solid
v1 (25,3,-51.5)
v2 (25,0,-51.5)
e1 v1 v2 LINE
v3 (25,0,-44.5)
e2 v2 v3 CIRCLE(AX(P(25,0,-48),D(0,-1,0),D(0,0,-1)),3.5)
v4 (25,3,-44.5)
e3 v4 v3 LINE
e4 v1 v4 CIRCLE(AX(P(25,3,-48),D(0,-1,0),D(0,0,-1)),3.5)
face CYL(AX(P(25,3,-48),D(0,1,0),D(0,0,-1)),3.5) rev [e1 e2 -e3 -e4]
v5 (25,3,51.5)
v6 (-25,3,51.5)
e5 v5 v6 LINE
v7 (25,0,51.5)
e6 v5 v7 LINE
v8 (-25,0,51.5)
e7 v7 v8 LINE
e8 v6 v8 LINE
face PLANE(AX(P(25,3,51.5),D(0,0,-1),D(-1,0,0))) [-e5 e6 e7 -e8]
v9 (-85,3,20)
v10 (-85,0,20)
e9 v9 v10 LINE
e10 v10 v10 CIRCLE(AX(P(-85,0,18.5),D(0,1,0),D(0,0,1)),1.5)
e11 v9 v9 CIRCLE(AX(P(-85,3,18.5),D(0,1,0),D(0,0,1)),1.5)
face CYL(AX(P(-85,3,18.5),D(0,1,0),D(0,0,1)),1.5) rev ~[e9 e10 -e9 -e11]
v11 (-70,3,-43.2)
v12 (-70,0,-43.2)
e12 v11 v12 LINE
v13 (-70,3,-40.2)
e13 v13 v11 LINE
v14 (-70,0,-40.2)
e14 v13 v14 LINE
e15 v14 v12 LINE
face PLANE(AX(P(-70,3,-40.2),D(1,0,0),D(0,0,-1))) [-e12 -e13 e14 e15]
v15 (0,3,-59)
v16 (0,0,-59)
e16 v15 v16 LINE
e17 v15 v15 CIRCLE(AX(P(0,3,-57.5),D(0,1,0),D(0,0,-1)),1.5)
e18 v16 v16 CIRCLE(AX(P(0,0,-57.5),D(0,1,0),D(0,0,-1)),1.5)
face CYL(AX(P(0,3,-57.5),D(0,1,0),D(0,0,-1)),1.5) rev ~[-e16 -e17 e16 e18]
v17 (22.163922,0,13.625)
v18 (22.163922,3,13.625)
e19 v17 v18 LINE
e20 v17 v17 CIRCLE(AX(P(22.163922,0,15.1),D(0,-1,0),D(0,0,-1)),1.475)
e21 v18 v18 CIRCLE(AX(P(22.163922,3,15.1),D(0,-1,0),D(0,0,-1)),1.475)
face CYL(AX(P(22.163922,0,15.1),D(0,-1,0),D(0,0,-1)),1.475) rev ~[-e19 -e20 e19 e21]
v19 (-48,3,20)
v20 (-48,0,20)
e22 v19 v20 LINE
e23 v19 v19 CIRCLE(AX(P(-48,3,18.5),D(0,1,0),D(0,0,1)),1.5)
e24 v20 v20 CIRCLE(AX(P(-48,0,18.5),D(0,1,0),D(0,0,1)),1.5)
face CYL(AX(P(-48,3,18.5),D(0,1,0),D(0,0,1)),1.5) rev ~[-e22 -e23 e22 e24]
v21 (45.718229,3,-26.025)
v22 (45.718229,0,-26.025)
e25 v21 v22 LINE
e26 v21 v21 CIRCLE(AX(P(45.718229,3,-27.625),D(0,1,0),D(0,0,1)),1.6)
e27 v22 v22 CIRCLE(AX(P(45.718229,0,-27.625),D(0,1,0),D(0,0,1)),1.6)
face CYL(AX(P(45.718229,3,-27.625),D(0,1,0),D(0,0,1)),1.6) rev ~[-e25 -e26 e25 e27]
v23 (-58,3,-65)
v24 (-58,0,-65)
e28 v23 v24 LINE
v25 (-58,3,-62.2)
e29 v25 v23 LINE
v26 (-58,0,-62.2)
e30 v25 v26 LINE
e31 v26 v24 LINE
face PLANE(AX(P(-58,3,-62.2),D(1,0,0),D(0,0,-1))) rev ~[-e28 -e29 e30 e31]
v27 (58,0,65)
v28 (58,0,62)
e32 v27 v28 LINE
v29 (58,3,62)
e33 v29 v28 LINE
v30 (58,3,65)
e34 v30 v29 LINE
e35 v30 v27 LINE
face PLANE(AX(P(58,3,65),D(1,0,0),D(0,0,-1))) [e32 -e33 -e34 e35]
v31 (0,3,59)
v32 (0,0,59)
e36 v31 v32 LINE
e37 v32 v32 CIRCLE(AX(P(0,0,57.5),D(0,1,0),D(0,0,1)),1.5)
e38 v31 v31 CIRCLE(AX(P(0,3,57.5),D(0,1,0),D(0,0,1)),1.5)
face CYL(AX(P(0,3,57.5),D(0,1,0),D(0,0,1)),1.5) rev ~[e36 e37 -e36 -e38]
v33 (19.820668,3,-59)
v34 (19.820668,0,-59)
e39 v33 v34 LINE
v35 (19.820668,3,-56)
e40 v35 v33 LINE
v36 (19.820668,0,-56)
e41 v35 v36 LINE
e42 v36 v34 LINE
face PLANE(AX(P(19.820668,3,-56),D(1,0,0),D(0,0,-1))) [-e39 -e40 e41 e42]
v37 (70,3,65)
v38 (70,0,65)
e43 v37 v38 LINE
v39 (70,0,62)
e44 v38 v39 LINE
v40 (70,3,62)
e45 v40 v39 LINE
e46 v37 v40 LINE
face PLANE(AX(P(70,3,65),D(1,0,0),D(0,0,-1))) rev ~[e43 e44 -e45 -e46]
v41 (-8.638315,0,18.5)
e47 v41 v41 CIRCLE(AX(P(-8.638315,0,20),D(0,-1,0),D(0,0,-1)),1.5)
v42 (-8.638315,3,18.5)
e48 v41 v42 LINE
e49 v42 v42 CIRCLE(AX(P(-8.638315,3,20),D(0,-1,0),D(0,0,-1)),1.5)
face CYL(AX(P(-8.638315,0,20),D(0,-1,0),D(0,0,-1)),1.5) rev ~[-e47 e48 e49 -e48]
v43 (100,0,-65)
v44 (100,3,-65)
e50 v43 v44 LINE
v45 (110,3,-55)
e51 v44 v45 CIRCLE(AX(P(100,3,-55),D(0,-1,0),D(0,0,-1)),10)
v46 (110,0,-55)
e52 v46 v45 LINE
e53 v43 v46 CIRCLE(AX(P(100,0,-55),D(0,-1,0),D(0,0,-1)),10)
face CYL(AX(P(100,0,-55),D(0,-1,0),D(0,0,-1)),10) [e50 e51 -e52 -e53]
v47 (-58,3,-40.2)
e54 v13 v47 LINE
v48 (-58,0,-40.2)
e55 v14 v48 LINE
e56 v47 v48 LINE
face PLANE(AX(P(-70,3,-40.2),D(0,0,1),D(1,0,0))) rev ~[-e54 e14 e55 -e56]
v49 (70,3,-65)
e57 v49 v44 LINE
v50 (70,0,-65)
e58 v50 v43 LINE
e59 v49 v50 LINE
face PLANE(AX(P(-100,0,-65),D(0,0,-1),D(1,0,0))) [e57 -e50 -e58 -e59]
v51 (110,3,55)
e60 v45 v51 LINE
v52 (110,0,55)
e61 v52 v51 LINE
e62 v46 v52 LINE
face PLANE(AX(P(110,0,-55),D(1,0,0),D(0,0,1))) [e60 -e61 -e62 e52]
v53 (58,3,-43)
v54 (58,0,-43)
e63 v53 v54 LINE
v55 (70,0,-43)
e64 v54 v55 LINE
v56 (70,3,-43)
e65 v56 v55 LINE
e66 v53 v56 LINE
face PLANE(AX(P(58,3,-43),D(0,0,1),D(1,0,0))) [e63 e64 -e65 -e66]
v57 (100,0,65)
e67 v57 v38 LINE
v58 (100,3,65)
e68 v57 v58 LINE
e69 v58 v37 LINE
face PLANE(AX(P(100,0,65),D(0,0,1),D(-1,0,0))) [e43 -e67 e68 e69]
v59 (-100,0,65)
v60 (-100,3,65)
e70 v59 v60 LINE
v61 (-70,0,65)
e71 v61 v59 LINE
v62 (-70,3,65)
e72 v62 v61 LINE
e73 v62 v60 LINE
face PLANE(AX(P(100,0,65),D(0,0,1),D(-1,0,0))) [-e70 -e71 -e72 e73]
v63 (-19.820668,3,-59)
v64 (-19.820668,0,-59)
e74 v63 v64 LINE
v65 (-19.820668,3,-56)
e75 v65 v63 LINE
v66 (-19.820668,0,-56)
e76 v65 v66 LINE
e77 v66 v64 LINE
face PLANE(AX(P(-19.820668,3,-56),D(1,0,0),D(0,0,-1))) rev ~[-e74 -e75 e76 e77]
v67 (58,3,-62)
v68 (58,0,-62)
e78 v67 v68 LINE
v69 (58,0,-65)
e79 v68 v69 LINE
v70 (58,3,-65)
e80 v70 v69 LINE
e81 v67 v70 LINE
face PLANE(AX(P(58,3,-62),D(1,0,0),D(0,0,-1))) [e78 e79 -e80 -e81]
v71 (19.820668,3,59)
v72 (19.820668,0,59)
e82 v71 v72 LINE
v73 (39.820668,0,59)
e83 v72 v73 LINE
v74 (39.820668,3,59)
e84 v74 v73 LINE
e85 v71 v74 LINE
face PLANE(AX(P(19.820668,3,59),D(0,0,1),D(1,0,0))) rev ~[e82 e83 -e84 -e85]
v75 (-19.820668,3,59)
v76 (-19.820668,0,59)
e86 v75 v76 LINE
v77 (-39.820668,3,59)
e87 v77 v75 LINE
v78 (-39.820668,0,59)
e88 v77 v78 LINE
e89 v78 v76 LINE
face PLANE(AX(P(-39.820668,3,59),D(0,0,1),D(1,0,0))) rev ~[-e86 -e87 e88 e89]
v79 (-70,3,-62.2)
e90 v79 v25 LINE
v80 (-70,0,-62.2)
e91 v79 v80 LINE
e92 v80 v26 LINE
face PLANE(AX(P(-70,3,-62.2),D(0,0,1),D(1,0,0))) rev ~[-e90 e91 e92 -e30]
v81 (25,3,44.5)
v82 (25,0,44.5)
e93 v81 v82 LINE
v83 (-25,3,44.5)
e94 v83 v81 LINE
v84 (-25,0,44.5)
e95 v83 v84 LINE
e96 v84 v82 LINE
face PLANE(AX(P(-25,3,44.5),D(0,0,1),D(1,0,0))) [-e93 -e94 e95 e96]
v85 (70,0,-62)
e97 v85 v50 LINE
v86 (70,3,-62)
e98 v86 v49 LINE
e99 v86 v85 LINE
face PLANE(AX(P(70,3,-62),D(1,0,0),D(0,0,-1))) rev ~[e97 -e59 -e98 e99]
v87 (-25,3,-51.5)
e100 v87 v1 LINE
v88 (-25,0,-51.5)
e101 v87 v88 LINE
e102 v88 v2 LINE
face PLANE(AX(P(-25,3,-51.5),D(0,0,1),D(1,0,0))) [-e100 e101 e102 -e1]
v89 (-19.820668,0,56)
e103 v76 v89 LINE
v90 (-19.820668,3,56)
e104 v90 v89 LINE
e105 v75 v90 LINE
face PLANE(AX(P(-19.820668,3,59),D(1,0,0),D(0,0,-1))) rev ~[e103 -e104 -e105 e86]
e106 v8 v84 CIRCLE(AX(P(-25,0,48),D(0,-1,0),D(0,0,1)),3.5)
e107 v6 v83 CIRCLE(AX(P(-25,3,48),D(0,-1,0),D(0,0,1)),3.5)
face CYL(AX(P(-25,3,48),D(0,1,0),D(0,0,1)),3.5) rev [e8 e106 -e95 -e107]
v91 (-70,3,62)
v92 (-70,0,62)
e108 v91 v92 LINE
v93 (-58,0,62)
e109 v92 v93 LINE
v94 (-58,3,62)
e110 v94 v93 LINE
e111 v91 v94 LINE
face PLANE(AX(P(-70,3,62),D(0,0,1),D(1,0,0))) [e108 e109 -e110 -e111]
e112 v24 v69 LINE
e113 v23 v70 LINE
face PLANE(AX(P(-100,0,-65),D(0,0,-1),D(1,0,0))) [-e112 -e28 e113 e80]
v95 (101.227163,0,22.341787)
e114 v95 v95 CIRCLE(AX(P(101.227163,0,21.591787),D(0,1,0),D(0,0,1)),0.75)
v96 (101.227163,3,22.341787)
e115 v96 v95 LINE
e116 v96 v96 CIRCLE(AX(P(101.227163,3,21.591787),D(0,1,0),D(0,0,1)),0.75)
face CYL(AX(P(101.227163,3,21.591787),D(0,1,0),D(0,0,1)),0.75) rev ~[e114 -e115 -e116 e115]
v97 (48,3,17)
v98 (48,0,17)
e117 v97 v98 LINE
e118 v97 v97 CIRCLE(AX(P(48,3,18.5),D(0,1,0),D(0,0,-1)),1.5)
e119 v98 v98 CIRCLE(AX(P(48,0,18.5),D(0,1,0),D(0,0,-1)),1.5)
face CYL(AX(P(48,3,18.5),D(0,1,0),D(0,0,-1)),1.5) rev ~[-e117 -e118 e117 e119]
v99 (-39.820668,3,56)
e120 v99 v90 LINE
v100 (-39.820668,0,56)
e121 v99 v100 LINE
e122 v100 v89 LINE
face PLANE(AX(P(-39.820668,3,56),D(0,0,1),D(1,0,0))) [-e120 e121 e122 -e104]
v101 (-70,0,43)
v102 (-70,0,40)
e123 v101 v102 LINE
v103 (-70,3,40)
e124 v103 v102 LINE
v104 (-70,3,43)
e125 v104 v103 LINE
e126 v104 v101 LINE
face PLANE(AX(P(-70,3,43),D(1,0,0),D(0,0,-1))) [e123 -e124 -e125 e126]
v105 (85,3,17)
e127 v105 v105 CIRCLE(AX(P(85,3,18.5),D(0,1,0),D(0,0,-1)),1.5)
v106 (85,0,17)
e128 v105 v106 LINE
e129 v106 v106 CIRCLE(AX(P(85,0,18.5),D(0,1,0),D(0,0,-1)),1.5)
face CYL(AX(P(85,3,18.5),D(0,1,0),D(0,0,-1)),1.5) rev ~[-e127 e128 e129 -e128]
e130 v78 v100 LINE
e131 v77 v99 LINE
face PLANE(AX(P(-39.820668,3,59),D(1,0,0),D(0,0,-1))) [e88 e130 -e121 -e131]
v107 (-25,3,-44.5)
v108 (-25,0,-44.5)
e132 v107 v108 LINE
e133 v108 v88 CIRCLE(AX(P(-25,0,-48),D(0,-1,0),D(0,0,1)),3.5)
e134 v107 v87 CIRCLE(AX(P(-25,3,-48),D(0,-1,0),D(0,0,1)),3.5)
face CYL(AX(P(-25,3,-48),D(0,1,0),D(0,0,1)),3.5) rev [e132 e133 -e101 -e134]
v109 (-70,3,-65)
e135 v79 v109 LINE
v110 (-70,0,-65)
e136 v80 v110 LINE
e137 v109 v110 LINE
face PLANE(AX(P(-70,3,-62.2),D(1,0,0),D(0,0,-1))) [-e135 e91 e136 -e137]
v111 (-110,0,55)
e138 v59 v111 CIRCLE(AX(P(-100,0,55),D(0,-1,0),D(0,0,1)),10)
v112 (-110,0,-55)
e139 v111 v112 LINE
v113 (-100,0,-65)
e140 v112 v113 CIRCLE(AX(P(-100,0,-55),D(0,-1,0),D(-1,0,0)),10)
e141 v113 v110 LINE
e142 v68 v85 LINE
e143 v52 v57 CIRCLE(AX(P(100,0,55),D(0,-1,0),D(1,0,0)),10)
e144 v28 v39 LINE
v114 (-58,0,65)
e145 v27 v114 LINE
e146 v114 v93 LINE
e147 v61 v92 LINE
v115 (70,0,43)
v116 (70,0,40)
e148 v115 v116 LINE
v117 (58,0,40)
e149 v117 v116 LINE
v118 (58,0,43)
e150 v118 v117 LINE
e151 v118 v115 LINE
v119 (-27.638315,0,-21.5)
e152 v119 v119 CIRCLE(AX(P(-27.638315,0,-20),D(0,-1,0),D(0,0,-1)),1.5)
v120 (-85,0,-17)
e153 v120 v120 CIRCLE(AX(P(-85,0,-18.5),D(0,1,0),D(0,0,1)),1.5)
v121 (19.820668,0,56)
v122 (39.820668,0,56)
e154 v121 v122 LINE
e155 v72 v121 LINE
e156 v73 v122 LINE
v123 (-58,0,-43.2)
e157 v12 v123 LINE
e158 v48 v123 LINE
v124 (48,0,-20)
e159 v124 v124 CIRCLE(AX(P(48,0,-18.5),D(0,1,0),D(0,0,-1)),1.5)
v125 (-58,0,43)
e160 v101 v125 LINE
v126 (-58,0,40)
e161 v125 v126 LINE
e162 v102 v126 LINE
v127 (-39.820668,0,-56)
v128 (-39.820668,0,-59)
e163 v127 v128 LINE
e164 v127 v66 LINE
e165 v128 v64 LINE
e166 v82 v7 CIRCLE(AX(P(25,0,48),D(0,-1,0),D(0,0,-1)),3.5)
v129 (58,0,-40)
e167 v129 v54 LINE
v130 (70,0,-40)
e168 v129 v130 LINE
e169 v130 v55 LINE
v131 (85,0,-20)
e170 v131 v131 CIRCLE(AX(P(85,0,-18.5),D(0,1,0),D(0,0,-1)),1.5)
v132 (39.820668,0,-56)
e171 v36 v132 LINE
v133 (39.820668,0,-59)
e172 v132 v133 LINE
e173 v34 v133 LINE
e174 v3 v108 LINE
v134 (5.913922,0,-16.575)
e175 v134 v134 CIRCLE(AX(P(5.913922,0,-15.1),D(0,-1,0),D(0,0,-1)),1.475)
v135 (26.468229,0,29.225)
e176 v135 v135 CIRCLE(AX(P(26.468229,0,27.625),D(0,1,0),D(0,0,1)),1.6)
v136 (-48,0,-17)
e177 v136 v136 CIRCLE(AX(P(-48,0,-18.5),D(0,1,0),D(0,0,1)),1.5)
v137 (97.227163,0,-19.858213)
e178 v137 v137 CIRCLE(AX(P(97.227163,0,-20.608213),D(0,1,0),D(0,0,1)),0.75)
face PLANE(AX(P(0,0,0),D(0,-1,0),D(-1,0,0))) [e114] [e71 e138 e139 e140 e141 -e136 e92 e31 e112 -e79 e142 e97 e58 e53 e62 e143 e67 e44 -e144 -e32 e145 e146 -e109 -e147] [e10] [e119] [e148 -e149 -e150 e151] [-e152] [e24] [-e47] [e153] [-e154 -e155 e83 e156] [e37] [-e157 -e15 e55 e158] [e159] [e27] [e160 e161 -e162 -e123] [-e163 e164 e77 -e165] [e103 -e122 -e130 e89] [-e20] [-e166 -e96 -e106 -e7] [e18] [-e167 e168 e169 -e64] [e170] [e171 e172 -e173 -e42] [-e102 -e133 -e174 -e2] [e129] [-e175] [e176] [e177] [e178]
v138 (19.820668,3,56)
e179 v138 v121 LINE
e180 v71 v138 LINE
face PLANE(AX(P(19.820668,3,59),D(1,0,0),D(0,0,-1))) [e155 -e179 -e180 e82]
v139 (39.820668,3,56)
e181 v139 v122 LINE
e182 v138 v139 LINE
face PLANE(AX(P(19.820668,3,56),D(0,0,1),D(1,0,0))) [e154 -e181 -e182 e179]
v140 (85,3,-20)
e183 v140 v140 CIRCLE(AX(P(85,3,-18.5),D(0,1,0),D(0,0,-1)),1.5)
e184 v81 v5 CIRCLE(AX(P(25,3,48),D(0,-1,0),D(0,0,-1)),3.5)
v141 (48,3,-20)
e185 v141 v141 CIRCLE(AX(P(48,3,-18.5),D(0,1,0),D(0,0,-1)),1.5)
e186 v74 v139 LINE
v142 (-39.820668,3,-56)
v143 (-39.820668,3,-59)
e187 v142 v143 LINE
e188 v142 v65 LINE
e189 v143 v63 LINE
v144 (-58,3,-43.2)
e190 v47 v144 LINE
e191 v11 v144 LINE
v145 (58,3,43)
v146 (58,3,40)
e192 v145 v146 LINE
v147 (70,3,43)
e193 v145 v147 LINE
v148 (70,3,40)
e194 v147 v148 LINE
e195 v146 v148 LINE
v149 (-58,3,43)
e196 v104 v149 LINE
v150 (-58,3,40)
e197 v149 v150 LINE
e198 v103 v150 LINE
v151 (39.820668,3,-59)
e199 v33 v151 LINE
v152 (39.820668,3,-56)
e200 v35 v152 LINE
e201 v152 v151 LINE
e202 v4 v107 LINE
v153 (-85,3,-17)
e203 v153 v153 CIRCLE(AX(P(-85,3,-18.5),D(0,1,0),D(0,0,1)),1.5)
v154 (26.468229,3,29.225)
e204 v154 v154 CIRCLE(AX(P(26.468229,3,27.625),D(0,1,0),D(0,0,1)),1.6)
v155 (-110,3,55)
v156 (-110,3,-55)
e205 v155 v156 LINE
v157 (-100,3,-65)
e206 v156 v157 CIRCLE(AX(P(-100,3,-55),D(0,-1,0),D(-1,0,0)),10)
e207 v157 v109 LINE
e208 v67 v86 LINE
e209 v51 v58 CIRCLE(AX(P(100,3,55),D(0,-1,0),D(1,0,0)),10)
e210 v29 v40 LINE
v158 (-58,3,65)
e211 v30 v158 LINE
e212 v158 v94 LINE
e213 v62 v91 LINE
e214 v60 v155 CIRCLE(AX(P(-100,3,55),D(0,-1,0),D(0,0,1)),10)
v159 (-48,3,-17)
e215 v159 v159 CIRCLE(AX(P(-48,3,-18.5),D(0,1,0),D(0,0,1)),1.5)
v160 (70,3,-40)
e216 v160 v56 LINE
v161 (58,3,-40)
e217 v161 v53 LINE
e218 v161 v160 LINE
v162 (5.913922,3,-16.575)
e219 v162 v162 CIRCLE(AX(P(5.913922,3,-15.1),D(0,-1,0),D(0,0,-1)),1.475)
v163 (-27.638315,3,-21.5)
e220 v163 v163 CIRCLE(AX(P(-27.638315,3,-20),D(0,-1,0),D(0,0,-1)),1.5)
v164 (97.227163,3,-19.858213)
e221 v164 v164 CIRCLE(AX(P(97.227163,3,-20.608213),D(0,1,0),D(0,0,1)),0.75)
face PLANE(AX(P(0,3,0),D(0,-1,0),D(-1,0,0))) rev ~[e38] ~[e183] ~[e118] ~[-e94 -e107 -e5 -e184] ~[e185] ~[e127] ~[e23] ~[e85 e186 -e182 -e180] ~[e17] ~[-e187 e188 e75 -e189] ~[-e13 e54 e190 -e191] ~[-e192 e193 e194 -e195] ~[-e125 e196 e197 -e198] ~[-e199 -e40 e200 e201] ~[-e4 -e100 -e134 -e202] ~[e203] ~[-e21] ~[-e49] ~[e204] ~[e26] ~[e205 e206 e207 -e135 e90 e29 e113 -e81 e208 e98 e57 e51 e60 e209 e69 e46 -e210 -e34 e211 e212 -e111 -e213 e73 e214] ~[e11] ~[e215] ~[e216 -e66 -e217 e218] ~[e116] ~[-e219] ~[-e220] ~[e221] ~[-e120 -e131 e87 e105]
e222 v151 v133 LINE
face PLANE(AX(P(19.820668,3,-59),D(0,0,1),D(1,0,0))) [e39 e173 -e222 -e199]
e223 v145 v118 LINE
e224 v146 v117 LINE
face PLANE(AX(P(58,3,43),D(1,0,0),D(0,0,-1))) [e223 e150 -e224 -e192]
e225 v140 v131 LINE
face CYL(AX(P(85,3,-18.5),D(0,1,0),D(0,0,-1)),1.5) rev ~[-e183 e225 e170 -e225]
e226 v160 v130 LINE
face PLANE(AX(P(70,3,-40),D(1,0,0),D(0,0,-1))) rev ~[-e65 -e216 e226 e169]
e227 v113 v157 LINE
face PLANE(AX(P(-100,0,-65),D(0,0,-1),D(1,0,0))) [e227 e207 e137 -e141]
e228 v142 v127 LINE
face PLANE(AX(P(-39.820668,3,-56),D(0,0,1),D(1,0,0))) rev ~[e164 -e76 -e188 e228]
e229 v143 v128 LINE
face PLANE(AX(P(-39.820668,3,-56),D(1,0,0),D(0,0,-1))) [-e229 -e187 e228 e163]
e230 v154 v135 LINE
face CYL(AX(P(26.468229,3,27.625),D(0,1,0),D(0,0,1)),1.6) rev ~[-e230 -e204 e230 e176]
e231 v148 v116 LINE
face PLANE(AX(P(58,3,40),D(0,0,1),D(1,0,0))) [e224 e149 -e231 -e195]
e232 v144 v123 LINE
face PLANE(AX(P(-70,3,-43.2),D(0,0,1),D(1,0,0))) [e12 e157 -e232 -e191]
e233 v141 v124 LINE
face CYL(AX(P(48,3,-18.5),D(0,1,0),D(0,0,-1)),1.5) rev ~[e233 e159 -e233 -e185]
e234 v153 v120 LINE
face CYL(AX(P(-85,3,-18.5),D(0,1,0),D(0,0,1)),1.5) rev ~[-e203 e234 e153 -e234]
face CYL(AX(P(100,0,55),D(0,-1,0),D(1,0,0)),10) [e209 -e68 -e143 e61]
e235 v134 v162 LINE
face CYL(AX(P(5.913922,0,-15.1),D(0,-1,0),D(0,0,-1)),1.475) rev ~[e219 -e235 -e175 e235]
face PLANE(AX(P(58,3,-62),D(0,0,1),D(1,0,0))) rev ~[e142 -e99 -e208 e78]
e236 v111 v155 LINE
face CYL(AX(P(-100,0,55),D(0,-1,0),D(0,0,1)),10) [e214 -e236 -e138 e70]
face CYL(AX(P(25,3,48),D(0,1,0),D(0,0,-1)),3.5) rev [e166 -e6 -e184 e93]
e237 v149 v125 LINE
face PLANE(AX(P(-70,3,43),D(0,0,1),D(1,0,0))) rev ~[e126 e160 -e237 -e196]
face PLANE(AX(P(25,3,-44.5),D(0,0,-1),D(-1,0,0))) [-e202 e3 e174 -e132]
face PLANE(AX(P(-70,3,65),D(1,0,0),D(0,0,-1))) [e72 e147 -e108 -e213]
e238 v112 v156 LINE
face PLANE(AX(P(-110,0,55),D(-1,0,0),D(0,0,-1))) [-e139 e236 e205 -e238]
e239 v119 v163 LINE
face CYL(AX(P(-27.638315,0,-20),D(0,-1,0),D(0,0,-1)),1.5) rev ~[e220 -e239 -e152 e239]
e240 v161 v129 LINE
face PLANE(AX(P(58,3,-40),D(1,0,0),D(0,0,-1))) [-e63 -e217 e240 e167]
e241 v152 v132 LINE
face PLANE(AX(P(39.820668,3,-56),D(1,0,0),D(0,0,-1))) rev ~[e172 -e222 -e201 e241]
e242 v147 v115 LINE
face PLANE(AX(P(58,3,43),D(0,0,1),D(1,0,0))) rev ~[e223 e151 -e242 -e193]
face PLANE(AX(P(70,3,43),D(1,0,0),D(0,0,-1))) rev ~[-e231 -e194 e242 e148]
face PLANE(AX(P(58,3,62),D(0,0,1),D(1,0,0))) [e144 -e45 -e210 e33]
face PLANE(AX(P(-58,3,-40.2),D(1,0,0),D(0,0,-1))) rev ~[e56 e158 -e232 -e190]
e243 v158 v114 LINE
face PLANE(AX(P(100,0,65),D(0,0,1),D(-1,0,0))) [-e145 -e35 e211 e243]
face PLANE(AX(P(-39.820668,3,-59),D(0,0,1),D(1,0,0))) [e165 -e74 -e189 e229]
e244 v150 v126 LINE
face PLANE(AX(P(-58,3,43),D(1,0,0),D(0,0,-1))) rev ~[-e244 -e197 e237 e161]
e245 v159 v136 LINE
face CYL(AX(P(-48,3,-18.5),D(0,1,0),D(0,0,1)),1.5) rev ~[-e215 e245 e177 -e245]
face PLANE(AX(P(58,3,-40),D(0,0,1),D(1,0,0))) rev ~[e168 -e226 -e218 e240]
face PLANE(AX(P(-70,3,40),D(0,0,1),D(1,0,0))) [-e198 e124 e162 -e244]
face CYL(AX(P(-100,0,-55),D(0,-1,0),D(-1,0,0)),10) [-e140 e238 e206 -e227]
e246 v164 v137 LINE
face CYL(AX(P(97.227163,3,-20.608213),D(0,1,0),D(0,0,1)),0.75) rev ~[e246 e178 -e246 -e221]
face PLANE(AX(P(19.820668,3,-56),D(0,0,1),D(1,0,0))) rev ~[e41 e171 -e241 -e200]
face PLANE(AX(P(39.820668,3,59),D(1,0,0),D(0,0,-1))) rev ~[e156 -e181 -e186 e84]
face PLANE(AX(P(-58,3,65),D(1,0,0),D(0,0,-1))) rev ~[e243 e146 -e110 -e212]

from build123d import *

# Parameters (mm, degrees)
BOSS_EXTRUDE1_DEPTH = 3
SKETCH2_R           = 1.5
SKETCH2_W           = 12
SKETCH2_H           = 3
SKETCH2_H_2         = 2.8
SKETCH2_W_2         = 20
CUT_EXTRUDE1_DEPTH  = 3
SKETCH4_R           = 1.6
CUT_EXTRUDE3_DEPTH  = 3
SKETCH5_R           = 1.5
SKETCH5_R_2         = 1.475
CUT_EXTRUDE4_DEPTH  = 3
SKETCH6_R           = 0.75
CUT_EXTRUDE5_DEPTH  = 3
CUT_EXTRUDE6_DEPTH  = 3


with BuildPart() as part:
    # Sketch1 → Boss-Extrude1 (new body)
    with BuildSketch(Plane(origin=(0, 0, 0), x_dir=(1, 0, 0), z_dir=(0, 1, 0))):
        with BuildLine():
            Line((100, -65), (-100, -65))
            ThreePointArc((-100, -65), (-107.071067812, -62.071067812), (-110, -55))
            Line((-110, -55), (-110, 55))
            ThreePointArc((-110, 55), (-107.071067812, 62.071067812), (-100, 65))
            Line((-100, 65), (100, 65))
            ThreePointArc((100, 65), (107.071067812, 62.071067812), (110, 55))
            Line((110, 55), (110, -55))
            ThreePointArc((110, -55), (107.071067812, -62.071067812), (100, -65))
        make_face()
    extrude(amount=BOSS_EXTRUDE1_DEPTH)

    # Sketch2 → Cut-Extrude1 (cut)
    with BuildSketch(Plane(origin=(0, 3, 0), x_dir=(1, 0, 0), z_dir=(0, 1, 0))):
        with Locations(Location((-85, 18.5, 0), (0, 0, 270))):
            Circle(SKETCH2_R)
        with Locations(Location((-48, 18.5, 0), (0, 0, 270))):
            Circle(SKETCH2_R)
        with Locations(Location((-85, -18.5, 0), (0, 0, 270))):
            Circle(SKETCH2_R)
        with Locations(Location((-48, -18.5, 0), (0, 0, 270))):
            Circle(SKETCH2_R)
        with Locations(Location((48, -18.5, 0), (0, 0, 90))):
            Circle(SKETCH2_R)
        with Locations(Location((85, -18.5, 0), (0, 0, 90))):
            Circle(SKETCH2_R)
        with Locations(Location((48, 18.5, 0), (0, 0, 90))):
            Circle(SKETCH2_R)
        with Locations(Location((85, 18.5, 0), (0, 0, 90))):
            Circle(SKETCH2_R)
        with Locations(Location((0, -57.5, 0), (0, 0, 270))):
            Circle(SKETCH2_R)
        with Locations(Location((0, 57.5, 0), (0, 0, 90))):
            Circle(SKETCH2_R)
        with Locations((64, -63.5)):
            Rectangle(SKETCH2_W, SKETCH2_H)
        with Locations((64, 63.5)):
            Rectangle(SKETCH2_W, SKETCH2_H)
        with Locations((-64, -63.5)):
            Rectangle(SKETCH2_W, SKETCH2_H)
        with Locations((-64, 63.6)):
            Rectangle(SKETCH2_W, SKETCH2_H_2)
        with Locations((-64, 41.7)):
            Rectangle(SKETCH2_W, SKETCH2_H)
        with Locations((64, 41.5)):
            Rectangle(SKETCH2_W, SKETCH2_H)
        with Locations((64, -41.5)):
            Rectangle(SKETCH2_W, SKETCH2_H)
        with Locations((-64, -41.5)):
            Rectangle(SKETCH2_W, SKETCH2_H)
        with Locations((29.820667629, -57.5)):
            Rectangle(SKETCH2_W_2, SKETCH2_H)
        with Locations((-29.820667629, -57.5)):
            Rectangle(SKETCH2_W_2, SKETCH2_H)
        with Locations((-29.820667629, 57.5)):
            Rectangle(SKETCH2_W_2, SKETCH2_H)
        with Locations((29.820667629, 57.5)):
            Rectangle(SKETCH2_W_2, SKETCH2_H)
    extrude(amount=-CUT_EXTRUDE1_DEPTH, mode=Mode.SUBTRACT)

    # Sketch4 → Cut-Extrude3 (cut)
    with BuildSketch(Plane(origin=(0, 3, 0), x_dir=(1, 0, 0), z_dir=(0, 1, 0))):
        with Locations(Location((26.468228909, -27.625, 0), (0, 0, 270))):
            Circle(SKETCH4_R)
        with Locations(Location((45.718228909, 27.625, 0), (0, 0, 270))):
            Circle(SKETCH4_R)
    extrude(amount=-CUT_EXTRUDE3_DEPTH, mode=Mode.SUBTRACT)

    # Sketch5 → Cut-Extrude4 (cut)
    with BuildSketch(Plane.XZ):
        with Locations(Location((-27.638314588, -20, 0), (0, 0, 270))):
            Circle(SKETCH5_R)
        with Locations(Location((-8.638314588, 20, 0), (0, 0, 270))):
            Circle(SKETCH5_R)
        with Locations(Location((22.163922177, 15.1, 0), (0, 0, 270))):
            Circle(SKETCH5_R_2)
        with Locations(Location((5.913922177, -15.1, 0), (0, 0, 270))):
            Circle(SKETCH5_R_2)
    extrude(amount=-CUT_EXTRUDE4_DEPTH, mode=Mode.SUBTRACT)

    # Sketch6 → Cut-Extrude5 (cut)
    with BuildSketch(Plane(origin=(0, 3, 0), x_dir=(1, 0, 0), z_dir=(0, 1, 0))):
        with Locations(Location((101.22716255, -21.591786593, 0), (0, 0, 270))):
            Circle(SKETCH6_R)
        with Locations(Location((97.22716255, 20.608213407, 0), (0, 0, 270))):
            Circle(SKETCH6_R)
    extrude(amount=-CUT_EXTRUDE5_DEPTH, mode=Mode.SUBTRACT)

    # Sketch7 → Cut-Extrude6 (cut)
    with BuildSketch(Plane(origin=(0, 3, 0), x_dir=(1, 0, 0), z_dir=(0, 1, 0))):
        with BuildLine():
            Line((-25, -44.5), (25, -44.5))
            ThreePointArc((25, -44.5), (28.5, -48), (25, -51.5))
            Line((25, -51.5), (-25, -51.5))
            ThreePointArc((-25, -51.5), (-28.5, -48), (-25, -44.5))
        make_face()
        with BuildLine():
            Line((-25, 51.5), (25, 51.5))
            ThreePointArc((25, 51.5), (28.5, 48), (25, 44.5))
            Line((25, 44.5), (-25, 44.5))
            ThreePointArc((-25, 44.5), (-28.5, 48), (-25, 51.5))
        make_face()
    extrude(amount=-CUT_EXTRUDE6_DEPTH, mode=Mode.SUBTRACT)


solid = part.part
